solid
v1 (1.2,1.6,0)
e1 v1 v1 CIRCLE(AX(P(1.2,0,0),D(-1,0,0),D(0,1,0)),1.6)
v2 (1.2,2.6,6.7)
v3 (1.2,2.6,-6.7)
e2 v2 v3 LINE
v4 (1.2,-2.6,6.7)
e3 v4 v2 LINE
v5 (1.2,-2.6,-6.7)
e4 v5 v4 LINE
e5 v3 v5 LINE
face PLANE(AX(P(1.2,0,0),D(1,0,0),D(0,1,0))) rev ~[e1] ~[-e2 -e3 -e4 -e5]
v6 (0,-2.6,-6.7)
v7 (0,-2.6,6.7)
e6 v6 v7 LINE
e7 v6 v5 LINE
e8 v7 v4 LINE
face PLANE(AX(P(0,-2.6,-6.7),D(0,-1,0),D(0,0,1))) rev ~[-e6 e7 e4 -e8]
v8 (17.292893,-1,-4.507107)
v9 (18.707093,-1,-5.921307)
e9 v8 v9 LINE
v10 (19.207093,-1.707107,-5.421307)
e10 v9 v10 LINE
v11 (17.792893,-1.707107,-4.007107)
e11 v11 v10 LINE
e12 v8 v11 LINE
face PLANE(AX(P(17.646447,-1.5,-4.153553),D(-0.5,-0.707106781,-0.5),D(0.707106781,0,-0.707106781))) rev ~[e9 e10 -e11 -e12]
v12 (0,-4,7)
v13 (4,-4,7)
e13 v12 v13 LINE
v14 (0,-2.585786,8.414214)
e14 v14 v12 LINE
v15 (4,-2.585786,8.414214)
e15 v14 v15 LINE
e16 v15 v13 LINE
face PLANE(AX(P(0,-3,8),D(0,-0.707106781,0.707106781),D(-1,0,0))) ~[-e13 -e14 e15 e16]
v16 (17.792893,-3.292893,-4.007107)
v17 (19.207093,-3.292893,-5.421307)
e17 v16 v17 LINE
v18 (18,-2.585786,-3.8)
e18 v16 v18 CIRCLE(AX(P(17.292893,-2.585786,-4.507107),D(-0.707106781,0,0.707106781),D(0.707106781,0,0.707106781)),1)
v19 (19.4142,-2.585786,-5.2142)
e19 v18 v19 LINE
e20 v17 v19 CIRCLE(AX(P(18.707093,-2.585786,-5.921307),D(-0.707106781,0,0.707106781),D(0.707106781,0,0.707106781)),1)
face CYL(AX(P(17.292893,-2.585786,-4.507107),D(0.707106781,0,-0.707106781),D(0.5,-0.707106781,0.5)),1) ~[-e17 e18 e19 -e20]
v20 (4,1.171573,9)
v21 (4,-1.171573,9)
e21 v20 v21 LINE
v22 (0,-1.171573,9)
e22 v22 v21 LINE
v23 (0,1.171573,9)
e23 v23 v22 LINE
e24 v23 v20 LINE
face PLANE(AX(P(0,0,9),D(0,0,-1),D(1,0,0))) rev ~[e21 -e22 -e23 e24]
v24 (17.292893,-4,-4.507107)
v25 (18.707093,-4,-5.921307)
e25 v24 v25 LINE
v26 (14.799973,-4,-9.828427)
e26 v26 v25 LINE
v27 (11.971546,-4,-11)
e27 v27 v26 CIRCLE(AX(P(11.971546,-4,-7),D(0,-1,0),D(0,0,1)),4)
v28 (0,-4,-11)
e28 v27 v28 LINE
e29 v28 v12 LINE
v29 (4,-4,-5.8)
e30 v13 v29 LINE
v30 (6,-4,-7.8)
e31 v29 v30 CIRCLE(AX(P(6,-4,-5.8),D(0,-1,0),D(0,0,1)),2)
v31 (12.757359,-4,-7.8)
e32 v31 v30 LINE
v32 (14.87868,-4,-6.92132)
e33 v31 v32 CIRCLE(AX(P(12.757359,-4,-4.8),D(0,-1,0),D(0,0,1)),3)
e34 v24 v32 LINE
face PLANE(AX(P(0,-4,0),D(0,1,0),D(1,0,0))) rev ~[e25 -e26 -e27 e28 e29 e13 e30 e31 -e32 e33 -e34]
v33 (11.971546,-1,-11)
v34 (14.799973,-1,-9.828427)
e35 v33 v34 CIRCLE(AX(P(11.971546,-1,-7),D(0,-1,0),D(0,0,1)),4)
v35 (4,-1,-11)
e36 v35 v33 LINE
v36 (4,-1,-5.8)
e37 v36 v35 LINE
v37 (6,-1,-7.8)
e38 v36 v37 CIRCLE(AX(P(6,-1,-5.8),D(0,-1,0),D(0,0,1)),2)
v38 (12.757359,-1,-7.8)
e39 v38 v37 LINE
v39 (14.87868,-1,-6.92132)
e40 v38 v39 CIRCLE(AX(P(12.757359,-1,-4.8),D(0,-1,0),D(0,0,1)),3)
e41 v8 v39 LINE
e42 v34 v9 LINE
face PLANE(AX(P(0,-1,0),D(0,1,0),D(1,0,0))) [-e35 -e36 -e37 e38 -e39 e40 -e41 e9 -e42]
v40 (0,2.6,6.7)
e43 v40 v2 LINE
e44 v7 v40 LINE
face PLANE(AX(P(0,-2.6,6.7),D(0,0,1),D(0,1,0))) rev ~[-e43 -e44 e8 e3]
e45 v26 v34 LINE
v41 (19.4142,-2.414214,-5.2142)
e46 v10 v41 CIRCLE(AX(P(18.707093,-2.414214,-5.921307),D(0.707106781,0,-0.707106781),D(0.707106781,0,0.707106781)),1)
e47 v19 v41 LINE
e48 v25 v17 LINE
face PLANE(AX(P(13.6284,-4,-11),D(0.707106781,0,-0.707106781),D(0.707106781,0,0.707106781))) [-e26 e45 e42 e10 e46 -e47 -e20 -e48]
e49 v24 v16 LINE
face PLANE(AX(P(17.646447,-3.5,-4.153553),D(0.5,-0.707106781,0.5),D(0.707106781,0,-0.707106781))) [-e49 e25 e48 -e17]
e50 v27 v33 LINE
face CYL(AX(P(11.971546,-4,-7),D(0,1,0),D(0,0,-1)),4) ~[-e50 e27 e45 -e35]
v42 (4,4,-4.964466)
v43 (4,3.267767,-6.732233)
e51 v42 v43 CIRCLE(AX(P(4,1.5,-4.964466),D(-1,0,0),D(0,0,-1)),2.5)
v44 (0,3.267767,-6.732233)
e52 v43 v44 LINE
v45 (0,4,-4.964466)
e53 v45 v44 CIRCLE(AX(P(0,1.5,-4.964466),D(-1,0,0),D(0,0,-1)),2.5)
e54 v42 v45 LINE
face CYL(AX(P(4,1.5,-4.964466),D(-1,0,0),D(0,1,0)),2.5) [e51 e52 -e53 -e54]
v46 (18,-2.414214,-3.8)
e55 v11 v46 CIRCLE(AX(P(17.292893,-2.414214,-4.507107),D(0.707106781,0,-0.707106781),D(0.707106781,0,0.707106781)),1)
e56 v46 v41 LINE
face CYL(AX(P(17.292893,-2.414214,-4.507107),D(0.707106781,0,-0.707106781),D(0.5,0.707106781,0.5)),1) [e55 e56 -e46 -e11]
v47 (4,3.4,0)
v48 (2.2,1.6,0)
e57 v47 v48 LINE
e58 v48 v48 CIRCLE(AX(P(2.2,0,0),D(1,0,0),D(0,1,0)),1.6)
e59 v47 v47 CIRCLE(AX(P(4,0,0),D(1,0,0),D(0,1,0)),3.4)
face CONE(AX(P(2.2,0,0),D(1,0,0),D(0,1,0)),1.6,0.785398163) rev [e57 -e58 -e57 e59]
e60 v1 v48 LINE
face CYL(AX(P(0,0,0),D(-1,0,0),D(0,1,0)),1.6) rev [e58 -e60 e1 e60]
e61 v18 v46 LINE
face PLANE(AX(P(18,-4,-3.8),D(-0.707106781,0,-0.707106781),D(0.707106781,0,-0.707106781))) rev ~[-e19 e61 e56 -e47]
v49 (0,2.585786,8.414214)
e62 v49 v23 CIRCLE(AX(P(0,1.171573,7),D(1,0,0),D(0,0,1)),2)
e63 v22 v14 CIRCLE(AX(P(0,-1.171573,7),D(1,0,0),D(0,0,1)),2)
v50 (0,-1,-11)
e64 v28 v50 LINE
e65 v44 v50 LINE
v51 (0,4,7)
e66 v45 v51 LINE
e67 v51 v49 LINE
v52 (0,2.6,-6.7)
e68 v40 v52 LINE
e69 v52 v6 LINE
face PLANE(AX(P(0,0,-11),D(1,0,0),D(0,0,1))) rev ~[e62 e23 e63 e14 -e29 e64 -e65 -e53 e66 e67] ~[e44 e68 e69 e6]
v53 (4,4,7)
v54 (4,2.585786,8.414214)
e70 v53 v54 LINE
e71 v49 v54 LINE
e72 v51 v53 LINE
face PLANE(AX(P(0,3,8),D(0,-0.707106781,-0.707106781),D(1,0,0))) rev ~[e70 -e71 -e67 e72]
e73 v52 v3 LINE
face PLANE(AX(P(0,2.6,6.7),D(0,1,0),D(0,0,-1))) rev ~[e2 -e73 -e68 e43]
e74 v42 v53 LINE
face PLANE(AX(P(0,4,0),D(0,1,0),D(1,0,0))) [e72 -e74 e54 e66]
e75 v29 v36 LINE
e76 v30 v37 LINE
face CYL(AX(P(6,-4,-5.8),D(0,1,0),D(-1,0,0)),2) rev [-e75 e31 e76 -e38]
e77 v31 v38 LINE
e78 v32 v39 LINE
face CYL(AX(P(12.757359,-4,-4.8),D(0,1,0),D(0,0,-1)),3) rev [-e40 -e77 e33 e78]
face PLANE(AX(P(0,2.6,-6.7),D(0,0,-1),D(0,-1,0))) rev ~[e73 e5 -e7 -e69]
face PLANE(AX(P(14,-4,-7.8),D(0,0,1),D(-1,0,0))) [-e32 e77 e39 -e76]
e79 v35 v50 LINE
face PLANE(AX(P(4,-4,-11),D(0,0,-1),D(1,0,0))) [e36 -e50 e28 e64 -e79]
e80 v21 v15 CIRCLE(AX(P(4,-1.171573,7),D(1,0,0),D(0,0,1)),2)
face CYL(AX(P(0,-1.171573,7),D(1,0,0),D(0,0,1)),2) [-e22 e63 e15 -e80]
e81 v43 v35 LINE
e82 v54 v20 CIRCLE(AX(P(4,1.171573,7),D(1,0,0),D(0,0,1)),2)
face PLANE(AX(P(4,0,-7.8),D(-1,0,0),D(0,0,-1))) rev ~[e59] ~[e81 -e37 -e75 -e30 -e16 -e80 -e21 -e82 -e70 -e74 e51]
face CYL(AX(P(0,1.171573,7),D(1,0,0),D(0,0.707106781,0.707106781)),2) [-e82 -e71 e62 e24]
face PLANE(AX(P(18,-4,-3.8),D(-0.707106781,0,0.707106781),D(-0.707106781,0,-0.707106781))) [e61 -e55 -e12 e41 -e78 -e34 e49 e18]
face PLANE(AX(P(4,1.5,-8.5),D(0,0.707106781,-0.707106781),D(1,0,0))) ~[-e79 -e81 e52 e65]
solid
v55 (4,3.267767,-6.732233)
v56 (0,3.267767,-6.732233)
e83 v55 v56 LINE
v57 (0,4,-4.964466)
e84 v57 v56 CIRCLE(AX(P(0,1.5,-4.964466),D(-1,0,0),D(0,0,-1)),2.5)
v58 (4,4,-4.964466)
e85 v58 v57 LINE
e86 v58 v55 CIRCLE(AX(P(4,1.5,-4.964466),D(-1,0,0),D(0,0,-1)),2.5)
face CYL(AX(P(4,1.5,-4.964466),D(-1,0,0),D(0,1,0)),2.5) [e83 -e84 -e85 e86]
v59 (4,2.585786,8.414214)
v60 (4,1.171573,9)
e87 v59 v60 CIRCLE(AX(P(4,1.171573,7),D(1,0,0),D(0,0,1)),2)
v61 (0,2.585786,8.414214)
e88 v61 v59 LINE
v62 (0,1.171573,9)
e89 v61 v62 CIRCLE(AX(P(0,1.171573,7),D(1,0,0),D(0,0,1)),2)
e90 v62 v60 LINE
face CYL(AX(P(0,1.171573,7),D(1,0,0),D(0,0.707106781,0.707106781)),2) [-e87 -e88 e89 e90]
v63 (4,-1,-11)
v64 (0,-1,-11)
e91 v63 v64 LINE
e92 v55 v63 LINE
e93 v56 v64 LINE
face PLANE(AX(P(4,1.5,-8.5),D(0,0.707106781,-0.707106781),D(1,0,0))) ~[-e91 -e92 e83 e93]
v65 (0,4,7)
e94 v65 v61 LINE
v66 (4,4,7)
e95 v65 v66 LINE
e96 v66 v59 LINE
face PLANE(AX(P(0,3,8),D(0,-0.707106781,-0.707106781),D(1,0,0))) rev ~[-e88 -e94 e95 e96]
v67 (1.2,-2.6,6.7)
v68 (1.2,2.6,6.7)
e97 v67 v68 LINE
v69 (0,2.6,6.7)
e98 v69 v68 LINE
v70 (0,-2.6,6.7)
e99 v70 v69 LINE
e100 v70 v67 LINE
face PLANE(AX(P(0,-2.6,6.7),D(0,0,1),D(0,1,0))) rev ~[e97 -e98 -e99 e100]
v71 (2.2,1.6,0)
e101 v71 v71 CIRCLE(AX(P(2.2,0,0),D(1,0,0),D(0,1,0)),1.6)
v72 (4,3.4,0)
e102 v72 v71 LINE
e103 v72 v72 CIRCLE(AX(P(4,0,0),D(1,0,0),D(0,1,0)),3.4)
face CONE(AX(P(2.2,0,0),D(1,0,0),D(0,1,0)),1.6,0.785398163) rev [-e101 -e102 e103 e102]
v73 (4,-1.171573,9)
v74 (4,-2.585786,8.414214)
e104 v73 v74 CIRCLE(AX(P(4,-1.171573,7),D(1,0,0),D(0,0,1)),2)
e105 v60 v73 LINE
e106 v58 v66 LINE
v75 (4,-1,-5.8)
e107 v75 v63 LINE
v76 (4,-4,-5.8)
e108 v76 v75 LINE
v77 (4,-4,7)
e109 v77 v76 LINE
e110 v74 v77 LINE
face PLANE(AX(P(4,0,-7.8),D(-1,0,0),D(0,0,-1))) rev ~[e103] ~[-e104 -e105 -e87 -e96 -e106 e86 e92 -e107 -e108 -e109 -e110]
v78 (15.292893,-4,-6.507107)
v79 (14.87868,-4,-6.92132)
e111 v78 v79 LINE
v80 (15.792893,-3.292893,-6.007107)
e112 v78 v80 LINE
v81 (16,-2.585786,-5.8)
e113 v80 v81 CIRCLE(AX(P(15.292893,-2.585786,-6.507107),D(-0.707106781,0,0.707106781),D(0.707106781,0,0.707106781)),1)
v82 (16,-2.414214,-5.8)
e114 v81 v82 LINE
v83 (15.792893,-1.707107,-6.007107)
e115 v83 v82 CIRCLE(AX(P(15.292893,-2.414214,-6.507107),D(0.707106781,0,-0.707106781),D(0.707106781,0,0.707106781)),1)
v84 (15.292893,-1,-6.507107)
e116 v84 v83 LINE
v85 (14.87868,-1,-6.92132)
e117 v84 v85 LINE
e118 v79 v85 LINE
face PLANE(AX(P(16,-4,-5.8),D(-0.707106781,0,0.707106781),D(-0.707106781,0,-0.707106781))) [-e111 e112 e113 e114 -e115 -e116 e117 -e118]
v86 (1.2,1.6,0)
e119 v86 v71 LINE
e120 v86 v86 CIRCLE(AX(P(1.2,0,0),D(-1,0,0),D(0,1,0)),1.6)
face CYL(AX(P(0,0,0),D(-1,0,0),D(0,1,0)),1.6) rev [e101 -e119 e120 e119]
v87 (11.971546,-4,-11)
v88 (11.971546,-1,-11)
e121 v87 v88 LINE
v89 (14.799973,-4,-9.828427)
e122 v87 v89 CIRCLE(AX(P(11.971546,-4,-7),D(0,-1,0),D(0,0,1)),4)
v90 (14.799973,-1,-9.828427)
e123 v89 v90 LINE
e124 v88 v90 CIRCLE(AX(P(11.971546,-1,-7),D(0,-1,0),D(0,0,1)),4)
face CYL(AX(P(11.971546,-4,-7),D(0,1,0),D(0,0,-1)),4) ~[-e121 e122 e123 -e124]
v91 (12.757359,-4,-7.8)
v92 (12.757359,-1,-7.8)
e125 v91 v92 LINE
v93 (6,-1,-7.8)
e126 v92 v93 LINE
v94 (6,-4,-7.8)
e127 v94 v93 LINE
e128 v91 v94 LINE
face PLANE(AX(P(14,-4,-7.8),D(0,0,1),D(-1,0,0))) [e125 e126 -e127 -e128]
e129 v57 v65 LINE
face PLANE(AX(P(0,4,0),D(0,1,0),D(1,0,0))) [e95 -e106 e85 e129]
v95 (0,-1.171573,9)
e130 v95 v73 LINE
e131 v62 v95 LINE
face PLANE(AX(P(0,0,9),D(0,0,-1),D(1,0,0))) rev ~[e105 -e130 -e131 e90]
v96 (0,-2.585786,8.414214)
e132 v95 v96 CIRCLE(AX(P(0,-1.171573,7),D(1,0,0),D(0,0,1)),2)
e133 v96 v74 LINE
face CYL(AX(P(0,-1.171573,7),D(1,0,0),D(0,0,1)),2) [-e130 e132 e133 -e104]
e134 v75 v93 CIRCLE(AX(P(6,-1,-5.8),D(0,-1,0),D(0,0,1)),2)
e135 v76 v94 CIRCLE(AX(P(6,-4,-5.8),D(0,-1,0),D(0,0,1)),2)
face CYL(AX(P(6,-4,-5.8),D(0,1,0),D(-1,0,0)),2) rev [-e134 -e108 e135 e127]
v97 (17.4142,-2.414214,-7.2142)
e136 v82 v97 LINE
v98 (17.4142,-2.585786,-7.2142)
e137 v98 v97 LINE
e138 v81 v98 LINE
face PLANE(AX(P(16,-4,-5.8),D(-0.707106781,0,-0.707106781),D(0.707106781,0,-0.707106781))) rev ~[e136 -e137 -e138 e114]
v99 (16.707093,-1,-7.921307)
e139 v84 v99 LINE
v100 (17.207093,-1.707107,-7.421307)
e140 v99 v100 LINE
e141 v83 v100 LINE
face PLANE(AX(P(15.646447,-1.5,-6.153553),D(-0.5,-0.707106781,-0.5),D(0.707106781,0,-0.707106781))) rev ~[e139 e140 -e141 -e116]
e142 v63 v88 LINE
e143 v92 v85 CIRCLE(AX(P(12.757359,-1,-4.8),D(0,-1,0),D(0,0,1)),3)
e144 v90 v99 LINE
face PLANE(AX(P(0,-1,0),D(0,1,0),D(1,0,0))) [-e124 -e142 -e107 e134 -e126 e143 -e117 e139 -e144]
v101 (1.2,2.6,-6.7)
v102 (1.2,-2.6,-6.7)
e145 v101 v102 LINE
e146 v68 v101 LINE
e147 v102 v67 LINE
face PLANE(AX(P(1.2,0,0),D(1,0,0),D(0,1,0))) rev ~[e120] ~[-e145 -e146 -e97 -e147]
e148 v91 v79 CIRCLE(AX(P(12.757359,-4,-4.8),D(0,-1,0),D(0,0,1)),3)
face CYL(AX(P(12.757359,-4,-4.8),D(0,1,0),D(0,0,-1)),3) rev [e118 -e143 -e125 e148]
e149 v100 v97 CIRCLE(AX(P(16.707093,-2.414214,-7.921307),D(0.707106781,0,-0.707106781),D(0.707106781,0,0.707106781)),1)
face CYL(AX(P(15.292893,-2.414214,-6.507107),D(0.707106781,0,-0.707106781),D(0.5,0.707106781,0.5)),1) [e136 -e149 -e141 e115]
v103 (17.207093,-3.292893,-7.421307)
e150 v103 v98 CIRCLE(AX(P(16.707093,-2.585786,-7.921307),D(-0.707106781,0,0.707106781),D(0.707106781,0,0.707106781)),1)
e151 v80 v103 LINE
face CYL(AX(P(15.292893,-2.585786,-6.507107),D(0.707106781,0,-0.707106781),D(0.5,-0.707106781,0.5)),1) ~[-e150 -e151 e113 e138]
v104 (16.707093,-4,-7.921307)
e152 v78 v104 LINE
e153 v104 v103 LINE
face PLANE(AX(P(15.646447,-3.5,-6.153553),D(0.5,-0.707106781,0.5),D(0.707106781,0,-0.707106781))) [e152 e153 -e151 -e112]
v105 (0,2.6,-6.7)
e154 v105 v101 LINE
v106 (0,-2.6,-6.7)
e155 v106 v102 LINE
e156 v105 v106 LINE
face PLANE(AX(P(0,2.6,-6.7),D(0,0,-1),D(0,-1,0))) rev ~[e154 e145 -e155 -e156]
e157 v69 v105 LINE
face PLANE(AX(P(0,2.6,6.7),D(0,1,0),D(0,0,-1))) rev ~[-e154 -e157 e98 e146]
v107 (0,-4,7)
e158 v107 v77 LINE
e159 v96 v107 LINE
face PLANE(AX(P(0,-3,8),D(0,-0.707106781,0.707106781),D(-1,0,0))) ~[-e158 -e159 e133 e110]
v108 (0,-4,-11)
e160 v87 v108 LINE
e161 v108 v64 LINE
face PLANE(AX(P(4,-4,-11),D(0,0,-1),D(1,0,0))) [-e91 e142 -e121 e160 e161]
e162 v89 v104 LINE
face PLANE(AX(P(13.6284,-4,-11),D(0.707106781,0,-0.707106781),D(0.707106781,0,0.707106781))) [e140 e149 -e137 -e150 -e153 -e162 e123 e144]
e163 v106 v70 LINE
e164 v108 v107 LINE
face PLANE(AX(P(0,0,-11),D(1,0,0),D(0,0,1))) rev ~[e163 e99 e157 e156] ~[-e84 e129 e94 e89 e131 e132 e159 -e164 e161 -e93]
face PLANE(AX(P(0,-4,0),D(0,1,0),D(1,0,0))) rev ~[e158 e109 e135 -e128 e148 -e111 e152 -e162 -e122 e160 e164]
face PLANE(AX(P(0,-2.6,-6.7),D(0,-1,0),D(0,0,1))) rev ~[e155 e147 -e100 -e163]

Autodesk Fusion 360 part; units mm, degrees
sketch "SlotLayout" plane through (0, 0, 0) normal (1, 0, 0) x (0, 1, 0)
  line L0 (-22.4, 25) -> (-22.4, 15)
  line L1 (82.4, 5) -> (82.4, -5)
  line L2 (-37.6, -5) -> (-37.6, 5)
  line L3 (-80, 5) -> (-80, -5) construction
  line L4 (-97.6, 15) -> (-97.6, 25)
  line L5 (2.4, -5) -> (2.4, 5)
  arc A0 (-77.6, 5) -> (-82.4, 5) centre (-80, 5) ccw
  arc A1 (22.4, 25) -> (17.6, 25) centre (20, 25) ccw
  arc A2 (-97.6, 25) -> (-102.4, 25) centre (-100, 25) ccw
  arc A3 (97.6, 15) -> (102.4, 15) centre (100, 15) ccw
  line L6 (-60, 25) -> (-60, 15) construction
  line L7 (-77.6, -5) -> (-77.6, 5)
  arc A4 (77.6, -5) -> (82.4, -5) centre (80, -5) ccw
  line L8 (-40, 5) -> (-40, -5) construction
  line L9 (-57.6, 15) -> (-57.6, 25)
  line L10 (-62.4, 25) -> (-62.4, 15)
  line L11 (-102.4, 25) -> (-102.4, 15)
  line L12 (97.6, 15) -> (97.6, 25)
  arc A5 (-102.4, 15) -> (-97.6, 15) centre (-100, 15) ccw
  line L13 (20, 25) -> (20, 15) construction
  line L14 (22.4, 25) -> (22.4, 15)
  line L15 (-80, 0) -> (0, 0) construction
  line L16 (62.4, 25) -> (62.4, 15)
  line L17 (42.4, 5) -> (42.4, -5)
  arc A6 (2.5, 5) -> (-2.5, 5) centre (0, 5) ccw
  arc A7 (2.4, 5) -> (-2.4, 5) centre (0, 5) ccw
  line L18 (80, 5) -> (80, -5) construction
  arc A8 (82.4, 5) -> (77.6, 5) centre (80, 5) ccw
  arc A9 (-2.5, -5) -> (2.5, -5) centre (0, -5) ccw
  arc A10 (57.6, 15) -> (62.4, 15) centre (60, 15) ccw
  arc A11 (62.4, 25) -> (57.6, 25) centre (60, 25) ccw
  line L19 (17.6, 15) -> (17.6, 25)
  line L20 (-20, 25) -> (-20, 15) construction
  line L21 (-42.4, 5) -> (-42.4, -5)
  line L22 (60, 25) -> (60, 15) construction
  arc A12 (42.4, 5) -> (37.6, 5) centre (40, 5) ccw
  line L23 (-100, 25) -> (-100, 15) construction
  line L24 (100, 25) -> (100, 15) construction
  arc A13 (-57.6, 25) -> (-62.4, 25) centre (-60, 25) ccw
  arc A14 (37.6, -5) -> (42.4, -5) centre (40, -5) ccw
  line L25 (40, 5) -> (40, -5) construction
  line L26 (-17.6, 15) -> (-17.6, 25)
  arc A15 (-17.6, 25) -> (-22.4, 25) centre (-20, 25) ccw
  line L27 (-82.4, 5) -> (-82.4, -5)
  line L28 (-2.5, 5) -> (-2.5, -5)
  line L29 (-2.4, 5) -> (-2.4, -5)
  line L30 (102.4, 25) -> (102.4, 15)
  arc A16 (17.6, 15) -> (22.4, 15) centre (20, 15) ccw
  arc A17 (-22.4, 15) -> (-17.6, 15) centre (-20, 15) ccw
  line L31 (37.6, -5) -> (37.6, 5)
  line L32 (0, 5) -> (0, -5) construction
  arc A18 (-62.4, 15) -> (-57.6, 15) centre (-60, 15) ccw
  arc A19 (-42.4, -5) -> (-37.6, -5) centre (-40, -5) ccw
  arc A20 (-2.4, -5) -> (2.4, -5) centre (0, -5) ccw
  arc A21 (102.4, 25) -> (97.6, 25) centre (100, 25) ccw
  arc A22 (-82.4, -5) -> (-77.6, -5) centre (-80, -5) ccw
  arc A23 (-37.6, 5) -> (-42.4, 5) centre (-40, 5) ccw
  line L33 (77.6, -5) -> (77.6, 5)
  line L34 (57.6, 15) -> (57.6, 25)
  line L35 (2.5, -5) -> (2.5, 5)
  point P0 (-20, 20)
  point P1 (-40, 0)
  dimension "d9" = -40
  dimension "d10" = 0
  dimension "d255" = 0.1
  dimension "d22" = 10
  dimension "d23" = 2.4
  dimension "d4" = 40
  dimension "d25" = 40
  dimension "d26" = 20
  dimension "d27" = 20
sketch "VerticalPrintKey" plane through (0, 0, 0) normal (1, 0, 0) x (0, 1, 0)
  line L0 (-2.6, 6.7) -> (2.6, 6.7)
  line L1 (2.6, 6.7) -> (2.6, -6.7)
  line L2 (2.6, -6.7) -> (-2.6, -6.7)
  line L3 (-2.6, -6.7) -> (-2.6, 6.7)
  line L4 (0, 6.7) -> (0, -6.7) construction
  circle A0 centre (0, 0) radius 1.6
  line L5 (2.6, 0) -> (20.8722, 0) construction
  line L6 (20.8722, 0) -> (11.7361, 9.1361) construction
  line L7 (11.7361, 9.1361) -> (11.7361, -9.1361) construction
  line L8 (11.7361, -9.1361) -> (20.8722, 0) construction
  dimension "d18" = 13.4
  dimension "d19" = 5.2
  dimension "d20" = 3.2
sketch "HorizontalPrintKey" plane through (0, 0, 0) normal (1, 0, 0) x (0, 1, 0)
  circle A0 centre (0, 0) radius 1.6
  line L0 (2.6, -6.7) -> (-2.6, -6.7)
  line L1 (-2.6, -6.7) -> (-2.6, 6.7)
  line L2 (-2.6, 6.7) -> (2.6, 6.7)
  line L3 (2.6, 6.7) -> (2.6, -6.7)
  line L4 (0, 6.7) -> (0, -6.7) construction
  line L5 (0, 6.7) -> (0, 23.5939) construction
  line L6 (0, 23.5939) -> (-8.4469, 15.1469) construction
  line L7 (-8.4469, 15.1469) -> (8.4469, 15.1469) construction
  line L8 (8.4469, 15.1469) -> (0, 23.5939) construction
  dimension "d21" = 13.4
  dimension "d24" = 5.2
  dimension "d28" = 3.2
sketch "BaseProfile" plane through (0, 0, 0) normal (0, 1, 0) x (1, 0, 0) in component "SNS_NarrowHook_W_D_02"
  line L0 (13.6284, 11) -> (17.4142, 7.2142)
  line L1 (4, -9) -> (4, 11)
  line L2 (14, 7.8) -> (15.4142, 9.2142) construction
  line L3 (0, 11) -> (0, -9)
  line L4 (4, 11) -> (0, 11)
  line L5 (16, 5.8) -> (17.4142, 7.2142)
  line L6 (0, -9) -> (4, -9)
  line L7 (14, 7.8) -> (4, 7.8)
  line L8 (4, 11) -> (13.6284, 11)
  line L9 (16, 5.8) -> (14, 7.8)
  line L10 (4, 0) -> (0, 0) construction
  dimension "d14" = 135
  dimension "d16" = 2
  dimension "d17" = 3.2
  dimension "d33" = 4
  dimension "d229" = 10
  dimension "d231" = 9
  dimension "d232" = 20
  dimension "d38" = 2
extrude "Extrude1" add sketch "BaseProfile" along normal mid plane 8 contours L1 L3 L4 L6 makes body 1 in component "SNS_NarrowHook_W_D_02"
extrude "Extrude2" cut sketch "VerticalPrintKey" along normal blind 1.2 contours L0 L1 L2 L3 | A0 bodies 1 in component "SNS_NarrowHook_W_D_02"
extrude "Extrude3" cut sketch "VerticalPrintKey" along normal up to surface (4 mm away) contours A0 bodies 1 in component "SNS_NarrowHook_W_D_02"
extrude "Extrude4" add sketch "BaseProfile" along normal blind 3 from surface at -4 contours L0 L1 L5 L7 L8 L9 bodies 1 in component "SNS_NarrowHook_W_D_02"
chamfer "Chamfer1" distance 1.8 angle 45 1 edges at (4, -1.4917, 0.5786) on bodies 1 in component "SNS_NarrowHook_W_D_02"
chamfer "Chamfer2" distance 2 angle 45 2 edges at (2, 4, 9) (2, -4, 9) on bodies 1 in component "SNS_NarrowHook_W_D_02"
chamfer "Chamfer2" distance 1 angle 45 2 edges at (16.7071, -4, -6.5071) (16.7071, -1, -6.5071) on bodies 1 in component "SNS_NarrowHook_W_D_02"
fillet "Fillet1" radius 2 2 edges at (2, 2, 9) (2, -2, 9) on bodies 1 in component "SNS_NarrowHook_W_D_02"
fillet "Fillet1" radius 2 1 edges at (4, -2.5, -7.8) on bodies 1 in component "SNS_NarrowHook_W_D_02"
fillet "Fillet1" radius 3 1 edges at (14, -2.5, -7.8) on bodies 1 in component "SNS_NarrowHook_W_D_02"
fillet "Fillet1" radius 4 1 edges at (13.6284, -2.5, -11) on bodies 1 in component "SNS_NarrowHook_W_D_02"
fillet "Fillet1" radius 1 2 edges at (16.7071, -3, -6.5071) (16.7071, -2, -6.5071) on bodies 1 in component "SNS_NarrowHook_W_D_02"
chamfer "Chamfer3" distance 5 angle 45 1 edges at (2, 4, -11) on bodies 1 in component "SNS_NarrowHook_W_D_02"
fillet "Fillet2" radius 2.5 1 edges at (2, 4, -6) on bodies 1 in component "SNS_NarrowHook_W_D_02"
sketch "BaseProfile (2)" plane through (0, 0, 0) normal (0, 1, 0) x (1, 0, 0) in component "SNS_NarrowHook_W_D_04"
  line L0 (13.6284, 11) -> (19.4142, 5.2142)
  line L1 (4, -9) -> (4, 11)
  line L2 (14, 7.8) -> (15.4142, 9.2142) construction
  line L3 (0, 11) -> (0, -9)
  line L4 (4, 11) -> (0, 11)
  line L5 (18, 3.8) -> (19.4142, 5.2142)
  line L6 (0, -9) -> (4, -9)
  line L7 (14, 7.8) -> (4, 7.8)
  line L8 (4, 11) -> (13.6284, 11)
  line L9 (18, 3.8) -> (14, 7.8)
  line L10 (4, 0) -> (0, 0) construction
  dimension "d14_1" = 135
  dimension "d16_1" = 2
  dimension "d17_1" = 3.2
  dimension "d33_1" = 4
  dimension "d229_1" = 10
  dimension "d231_1" = 9
  dimension "d232_1" = 20
  dimension "d38_1" = 4
extrude "Extrude1'" add sketch "BaseProfile (2)" along normal mid plane 8 separate body contours L1 L3 L4 L6 makes body 2 in component "SNS_NarrowHook_W_D_04"
extrude "Extrude2'" cut sketch "VerticalPrintKey" along normal blind 1.2 contours L0 L1 L2 L3 | A0 bodies 2 in component "SNS_NarrowHook_W_D_04"
extrude "Extrude3'" cut sketch "VerticalPrintKey" along normal up to surface (4 mm away) contours A0 bodies 2 in component "SNS_NarrowHook_W_D_04"
extrude "Extrude4'" add sketch "BaseProfile (2)" along normal blind 3 from surface at -4 contours L0 L1 L5 L7 L8 L9 bodies 2 in component "SNS_NarrowHook_W_D_04"
chamfer "Chamfer1'" distance 1.8 angle 45 1 edges at (4, -1.4917, 0.5786) on bodies 2 in component "SNS_NarrowHook_W_D_04"
chamfer "Chamfer2'" distance 2 angle 45 2 edges at (2, 4, 9) (2, -4, 9) on bodies 2 in component "SNS_NarrowHook_W_D_04"
chamfer "Chamfer2'" distance 1 angle 45 2 edges at (18.7071, -4, -4.5071) (18.7071, -1, -4.5071) on bodies 2 in component "SNS_NarrowHook_W_D_04"
fillet "Fillet1'" radius 2 2 edges at (2, 2, 9) (2, -2, 9) on bodies 2 in component "SNS_NarrowHook_W_D_04"
fillet "Fillet1'" radius 2 1 edges at (4, -2.5, -7.8) on bodies 2 in component "SNS_NarrowHook_W_D_04"
fillet "Fillet1'" radius 3 1 edges at (14, -2.5, -7.8) on bodies 2 in component "SNS_NarrowHook_W_D_04"
fillet "Fillet1'" radius 4 1 edges at (13.6284, -2.5, -11) on bodies 2 in component "SNS_NarrowHook_W_D_04"
fillet "Fillet1'" radius 1 2 edges at (18.7071, -3, -4.5071) (18.7071, -2, -4.5071) on bodies 2 in component "SNS_NarrowHook_W_D_04"
chamfer "Chamfer3'" distance 5 angle 45 1 edges at (2, 4, -11) on bodies 2 in component "SNS_NarrowHook_W_D_04"
fillet "Fillet2'" radius 2.5 1 edges at (2, 4, -6) on bodies 2 in component "SNS_NarrowHook_W_D_04"
component "SNS_NarrowHook_W_D_02" placed x (1, 0, 0) y (0, 1, 0) z (0, 0, 1) at (0, 0, 0)
component "SNS_NarrowHook_W_D_04" placed x (1, 0, 0) y (0, 1, 0) z (0, 0, 1) at (0, 0, 0)
equation "XY_Tolerance = 0.2 mm"
equation "Z_Tolerance = 0.2 mm"
equation "Wall_Thickness = 0.4 mm"
equation "Layer_Height = 0.2 mm"
equation "M3Hole_wClearance = 3.2 mm"
equation "M3Hole_wSelfTapping = 2.8 mm"
equation "d20 = M3Hole_wClearance"
equation "d28 = M3Hole_wClearance"
equation "M3Hole_CounterSink = 1.8 mm"
equation "d16 = d15"
equation "d17 = Wall_Thickness * 8"
equation "d229 = HookDepth"
equation "d230 = LipHeight"
equation "d45 = M3Hole_CounterSink"
equation "d50 = HookWidth"
equation "d61 = SideChamfer"
equation "HookWidth = 3 mm" comment "Muste be between 3 and 8"
equation "HookDepth = 10 mm"
equation "SideChamfer = 8 mm - HookWidth"
equation "d66 = SideChamfer / 2"
equation "d16_1 = d15"
equation "d17_1 = Wall_Thickness * 8"
equation "d229_1 = HookDepth"
equation "d45_1 = M3Hole_CounterSink"
equation "d50_1 = HookWidth"
equation "d61_1 = SideChamfer"
equation "d66_1 = SideChamfer / 2"
